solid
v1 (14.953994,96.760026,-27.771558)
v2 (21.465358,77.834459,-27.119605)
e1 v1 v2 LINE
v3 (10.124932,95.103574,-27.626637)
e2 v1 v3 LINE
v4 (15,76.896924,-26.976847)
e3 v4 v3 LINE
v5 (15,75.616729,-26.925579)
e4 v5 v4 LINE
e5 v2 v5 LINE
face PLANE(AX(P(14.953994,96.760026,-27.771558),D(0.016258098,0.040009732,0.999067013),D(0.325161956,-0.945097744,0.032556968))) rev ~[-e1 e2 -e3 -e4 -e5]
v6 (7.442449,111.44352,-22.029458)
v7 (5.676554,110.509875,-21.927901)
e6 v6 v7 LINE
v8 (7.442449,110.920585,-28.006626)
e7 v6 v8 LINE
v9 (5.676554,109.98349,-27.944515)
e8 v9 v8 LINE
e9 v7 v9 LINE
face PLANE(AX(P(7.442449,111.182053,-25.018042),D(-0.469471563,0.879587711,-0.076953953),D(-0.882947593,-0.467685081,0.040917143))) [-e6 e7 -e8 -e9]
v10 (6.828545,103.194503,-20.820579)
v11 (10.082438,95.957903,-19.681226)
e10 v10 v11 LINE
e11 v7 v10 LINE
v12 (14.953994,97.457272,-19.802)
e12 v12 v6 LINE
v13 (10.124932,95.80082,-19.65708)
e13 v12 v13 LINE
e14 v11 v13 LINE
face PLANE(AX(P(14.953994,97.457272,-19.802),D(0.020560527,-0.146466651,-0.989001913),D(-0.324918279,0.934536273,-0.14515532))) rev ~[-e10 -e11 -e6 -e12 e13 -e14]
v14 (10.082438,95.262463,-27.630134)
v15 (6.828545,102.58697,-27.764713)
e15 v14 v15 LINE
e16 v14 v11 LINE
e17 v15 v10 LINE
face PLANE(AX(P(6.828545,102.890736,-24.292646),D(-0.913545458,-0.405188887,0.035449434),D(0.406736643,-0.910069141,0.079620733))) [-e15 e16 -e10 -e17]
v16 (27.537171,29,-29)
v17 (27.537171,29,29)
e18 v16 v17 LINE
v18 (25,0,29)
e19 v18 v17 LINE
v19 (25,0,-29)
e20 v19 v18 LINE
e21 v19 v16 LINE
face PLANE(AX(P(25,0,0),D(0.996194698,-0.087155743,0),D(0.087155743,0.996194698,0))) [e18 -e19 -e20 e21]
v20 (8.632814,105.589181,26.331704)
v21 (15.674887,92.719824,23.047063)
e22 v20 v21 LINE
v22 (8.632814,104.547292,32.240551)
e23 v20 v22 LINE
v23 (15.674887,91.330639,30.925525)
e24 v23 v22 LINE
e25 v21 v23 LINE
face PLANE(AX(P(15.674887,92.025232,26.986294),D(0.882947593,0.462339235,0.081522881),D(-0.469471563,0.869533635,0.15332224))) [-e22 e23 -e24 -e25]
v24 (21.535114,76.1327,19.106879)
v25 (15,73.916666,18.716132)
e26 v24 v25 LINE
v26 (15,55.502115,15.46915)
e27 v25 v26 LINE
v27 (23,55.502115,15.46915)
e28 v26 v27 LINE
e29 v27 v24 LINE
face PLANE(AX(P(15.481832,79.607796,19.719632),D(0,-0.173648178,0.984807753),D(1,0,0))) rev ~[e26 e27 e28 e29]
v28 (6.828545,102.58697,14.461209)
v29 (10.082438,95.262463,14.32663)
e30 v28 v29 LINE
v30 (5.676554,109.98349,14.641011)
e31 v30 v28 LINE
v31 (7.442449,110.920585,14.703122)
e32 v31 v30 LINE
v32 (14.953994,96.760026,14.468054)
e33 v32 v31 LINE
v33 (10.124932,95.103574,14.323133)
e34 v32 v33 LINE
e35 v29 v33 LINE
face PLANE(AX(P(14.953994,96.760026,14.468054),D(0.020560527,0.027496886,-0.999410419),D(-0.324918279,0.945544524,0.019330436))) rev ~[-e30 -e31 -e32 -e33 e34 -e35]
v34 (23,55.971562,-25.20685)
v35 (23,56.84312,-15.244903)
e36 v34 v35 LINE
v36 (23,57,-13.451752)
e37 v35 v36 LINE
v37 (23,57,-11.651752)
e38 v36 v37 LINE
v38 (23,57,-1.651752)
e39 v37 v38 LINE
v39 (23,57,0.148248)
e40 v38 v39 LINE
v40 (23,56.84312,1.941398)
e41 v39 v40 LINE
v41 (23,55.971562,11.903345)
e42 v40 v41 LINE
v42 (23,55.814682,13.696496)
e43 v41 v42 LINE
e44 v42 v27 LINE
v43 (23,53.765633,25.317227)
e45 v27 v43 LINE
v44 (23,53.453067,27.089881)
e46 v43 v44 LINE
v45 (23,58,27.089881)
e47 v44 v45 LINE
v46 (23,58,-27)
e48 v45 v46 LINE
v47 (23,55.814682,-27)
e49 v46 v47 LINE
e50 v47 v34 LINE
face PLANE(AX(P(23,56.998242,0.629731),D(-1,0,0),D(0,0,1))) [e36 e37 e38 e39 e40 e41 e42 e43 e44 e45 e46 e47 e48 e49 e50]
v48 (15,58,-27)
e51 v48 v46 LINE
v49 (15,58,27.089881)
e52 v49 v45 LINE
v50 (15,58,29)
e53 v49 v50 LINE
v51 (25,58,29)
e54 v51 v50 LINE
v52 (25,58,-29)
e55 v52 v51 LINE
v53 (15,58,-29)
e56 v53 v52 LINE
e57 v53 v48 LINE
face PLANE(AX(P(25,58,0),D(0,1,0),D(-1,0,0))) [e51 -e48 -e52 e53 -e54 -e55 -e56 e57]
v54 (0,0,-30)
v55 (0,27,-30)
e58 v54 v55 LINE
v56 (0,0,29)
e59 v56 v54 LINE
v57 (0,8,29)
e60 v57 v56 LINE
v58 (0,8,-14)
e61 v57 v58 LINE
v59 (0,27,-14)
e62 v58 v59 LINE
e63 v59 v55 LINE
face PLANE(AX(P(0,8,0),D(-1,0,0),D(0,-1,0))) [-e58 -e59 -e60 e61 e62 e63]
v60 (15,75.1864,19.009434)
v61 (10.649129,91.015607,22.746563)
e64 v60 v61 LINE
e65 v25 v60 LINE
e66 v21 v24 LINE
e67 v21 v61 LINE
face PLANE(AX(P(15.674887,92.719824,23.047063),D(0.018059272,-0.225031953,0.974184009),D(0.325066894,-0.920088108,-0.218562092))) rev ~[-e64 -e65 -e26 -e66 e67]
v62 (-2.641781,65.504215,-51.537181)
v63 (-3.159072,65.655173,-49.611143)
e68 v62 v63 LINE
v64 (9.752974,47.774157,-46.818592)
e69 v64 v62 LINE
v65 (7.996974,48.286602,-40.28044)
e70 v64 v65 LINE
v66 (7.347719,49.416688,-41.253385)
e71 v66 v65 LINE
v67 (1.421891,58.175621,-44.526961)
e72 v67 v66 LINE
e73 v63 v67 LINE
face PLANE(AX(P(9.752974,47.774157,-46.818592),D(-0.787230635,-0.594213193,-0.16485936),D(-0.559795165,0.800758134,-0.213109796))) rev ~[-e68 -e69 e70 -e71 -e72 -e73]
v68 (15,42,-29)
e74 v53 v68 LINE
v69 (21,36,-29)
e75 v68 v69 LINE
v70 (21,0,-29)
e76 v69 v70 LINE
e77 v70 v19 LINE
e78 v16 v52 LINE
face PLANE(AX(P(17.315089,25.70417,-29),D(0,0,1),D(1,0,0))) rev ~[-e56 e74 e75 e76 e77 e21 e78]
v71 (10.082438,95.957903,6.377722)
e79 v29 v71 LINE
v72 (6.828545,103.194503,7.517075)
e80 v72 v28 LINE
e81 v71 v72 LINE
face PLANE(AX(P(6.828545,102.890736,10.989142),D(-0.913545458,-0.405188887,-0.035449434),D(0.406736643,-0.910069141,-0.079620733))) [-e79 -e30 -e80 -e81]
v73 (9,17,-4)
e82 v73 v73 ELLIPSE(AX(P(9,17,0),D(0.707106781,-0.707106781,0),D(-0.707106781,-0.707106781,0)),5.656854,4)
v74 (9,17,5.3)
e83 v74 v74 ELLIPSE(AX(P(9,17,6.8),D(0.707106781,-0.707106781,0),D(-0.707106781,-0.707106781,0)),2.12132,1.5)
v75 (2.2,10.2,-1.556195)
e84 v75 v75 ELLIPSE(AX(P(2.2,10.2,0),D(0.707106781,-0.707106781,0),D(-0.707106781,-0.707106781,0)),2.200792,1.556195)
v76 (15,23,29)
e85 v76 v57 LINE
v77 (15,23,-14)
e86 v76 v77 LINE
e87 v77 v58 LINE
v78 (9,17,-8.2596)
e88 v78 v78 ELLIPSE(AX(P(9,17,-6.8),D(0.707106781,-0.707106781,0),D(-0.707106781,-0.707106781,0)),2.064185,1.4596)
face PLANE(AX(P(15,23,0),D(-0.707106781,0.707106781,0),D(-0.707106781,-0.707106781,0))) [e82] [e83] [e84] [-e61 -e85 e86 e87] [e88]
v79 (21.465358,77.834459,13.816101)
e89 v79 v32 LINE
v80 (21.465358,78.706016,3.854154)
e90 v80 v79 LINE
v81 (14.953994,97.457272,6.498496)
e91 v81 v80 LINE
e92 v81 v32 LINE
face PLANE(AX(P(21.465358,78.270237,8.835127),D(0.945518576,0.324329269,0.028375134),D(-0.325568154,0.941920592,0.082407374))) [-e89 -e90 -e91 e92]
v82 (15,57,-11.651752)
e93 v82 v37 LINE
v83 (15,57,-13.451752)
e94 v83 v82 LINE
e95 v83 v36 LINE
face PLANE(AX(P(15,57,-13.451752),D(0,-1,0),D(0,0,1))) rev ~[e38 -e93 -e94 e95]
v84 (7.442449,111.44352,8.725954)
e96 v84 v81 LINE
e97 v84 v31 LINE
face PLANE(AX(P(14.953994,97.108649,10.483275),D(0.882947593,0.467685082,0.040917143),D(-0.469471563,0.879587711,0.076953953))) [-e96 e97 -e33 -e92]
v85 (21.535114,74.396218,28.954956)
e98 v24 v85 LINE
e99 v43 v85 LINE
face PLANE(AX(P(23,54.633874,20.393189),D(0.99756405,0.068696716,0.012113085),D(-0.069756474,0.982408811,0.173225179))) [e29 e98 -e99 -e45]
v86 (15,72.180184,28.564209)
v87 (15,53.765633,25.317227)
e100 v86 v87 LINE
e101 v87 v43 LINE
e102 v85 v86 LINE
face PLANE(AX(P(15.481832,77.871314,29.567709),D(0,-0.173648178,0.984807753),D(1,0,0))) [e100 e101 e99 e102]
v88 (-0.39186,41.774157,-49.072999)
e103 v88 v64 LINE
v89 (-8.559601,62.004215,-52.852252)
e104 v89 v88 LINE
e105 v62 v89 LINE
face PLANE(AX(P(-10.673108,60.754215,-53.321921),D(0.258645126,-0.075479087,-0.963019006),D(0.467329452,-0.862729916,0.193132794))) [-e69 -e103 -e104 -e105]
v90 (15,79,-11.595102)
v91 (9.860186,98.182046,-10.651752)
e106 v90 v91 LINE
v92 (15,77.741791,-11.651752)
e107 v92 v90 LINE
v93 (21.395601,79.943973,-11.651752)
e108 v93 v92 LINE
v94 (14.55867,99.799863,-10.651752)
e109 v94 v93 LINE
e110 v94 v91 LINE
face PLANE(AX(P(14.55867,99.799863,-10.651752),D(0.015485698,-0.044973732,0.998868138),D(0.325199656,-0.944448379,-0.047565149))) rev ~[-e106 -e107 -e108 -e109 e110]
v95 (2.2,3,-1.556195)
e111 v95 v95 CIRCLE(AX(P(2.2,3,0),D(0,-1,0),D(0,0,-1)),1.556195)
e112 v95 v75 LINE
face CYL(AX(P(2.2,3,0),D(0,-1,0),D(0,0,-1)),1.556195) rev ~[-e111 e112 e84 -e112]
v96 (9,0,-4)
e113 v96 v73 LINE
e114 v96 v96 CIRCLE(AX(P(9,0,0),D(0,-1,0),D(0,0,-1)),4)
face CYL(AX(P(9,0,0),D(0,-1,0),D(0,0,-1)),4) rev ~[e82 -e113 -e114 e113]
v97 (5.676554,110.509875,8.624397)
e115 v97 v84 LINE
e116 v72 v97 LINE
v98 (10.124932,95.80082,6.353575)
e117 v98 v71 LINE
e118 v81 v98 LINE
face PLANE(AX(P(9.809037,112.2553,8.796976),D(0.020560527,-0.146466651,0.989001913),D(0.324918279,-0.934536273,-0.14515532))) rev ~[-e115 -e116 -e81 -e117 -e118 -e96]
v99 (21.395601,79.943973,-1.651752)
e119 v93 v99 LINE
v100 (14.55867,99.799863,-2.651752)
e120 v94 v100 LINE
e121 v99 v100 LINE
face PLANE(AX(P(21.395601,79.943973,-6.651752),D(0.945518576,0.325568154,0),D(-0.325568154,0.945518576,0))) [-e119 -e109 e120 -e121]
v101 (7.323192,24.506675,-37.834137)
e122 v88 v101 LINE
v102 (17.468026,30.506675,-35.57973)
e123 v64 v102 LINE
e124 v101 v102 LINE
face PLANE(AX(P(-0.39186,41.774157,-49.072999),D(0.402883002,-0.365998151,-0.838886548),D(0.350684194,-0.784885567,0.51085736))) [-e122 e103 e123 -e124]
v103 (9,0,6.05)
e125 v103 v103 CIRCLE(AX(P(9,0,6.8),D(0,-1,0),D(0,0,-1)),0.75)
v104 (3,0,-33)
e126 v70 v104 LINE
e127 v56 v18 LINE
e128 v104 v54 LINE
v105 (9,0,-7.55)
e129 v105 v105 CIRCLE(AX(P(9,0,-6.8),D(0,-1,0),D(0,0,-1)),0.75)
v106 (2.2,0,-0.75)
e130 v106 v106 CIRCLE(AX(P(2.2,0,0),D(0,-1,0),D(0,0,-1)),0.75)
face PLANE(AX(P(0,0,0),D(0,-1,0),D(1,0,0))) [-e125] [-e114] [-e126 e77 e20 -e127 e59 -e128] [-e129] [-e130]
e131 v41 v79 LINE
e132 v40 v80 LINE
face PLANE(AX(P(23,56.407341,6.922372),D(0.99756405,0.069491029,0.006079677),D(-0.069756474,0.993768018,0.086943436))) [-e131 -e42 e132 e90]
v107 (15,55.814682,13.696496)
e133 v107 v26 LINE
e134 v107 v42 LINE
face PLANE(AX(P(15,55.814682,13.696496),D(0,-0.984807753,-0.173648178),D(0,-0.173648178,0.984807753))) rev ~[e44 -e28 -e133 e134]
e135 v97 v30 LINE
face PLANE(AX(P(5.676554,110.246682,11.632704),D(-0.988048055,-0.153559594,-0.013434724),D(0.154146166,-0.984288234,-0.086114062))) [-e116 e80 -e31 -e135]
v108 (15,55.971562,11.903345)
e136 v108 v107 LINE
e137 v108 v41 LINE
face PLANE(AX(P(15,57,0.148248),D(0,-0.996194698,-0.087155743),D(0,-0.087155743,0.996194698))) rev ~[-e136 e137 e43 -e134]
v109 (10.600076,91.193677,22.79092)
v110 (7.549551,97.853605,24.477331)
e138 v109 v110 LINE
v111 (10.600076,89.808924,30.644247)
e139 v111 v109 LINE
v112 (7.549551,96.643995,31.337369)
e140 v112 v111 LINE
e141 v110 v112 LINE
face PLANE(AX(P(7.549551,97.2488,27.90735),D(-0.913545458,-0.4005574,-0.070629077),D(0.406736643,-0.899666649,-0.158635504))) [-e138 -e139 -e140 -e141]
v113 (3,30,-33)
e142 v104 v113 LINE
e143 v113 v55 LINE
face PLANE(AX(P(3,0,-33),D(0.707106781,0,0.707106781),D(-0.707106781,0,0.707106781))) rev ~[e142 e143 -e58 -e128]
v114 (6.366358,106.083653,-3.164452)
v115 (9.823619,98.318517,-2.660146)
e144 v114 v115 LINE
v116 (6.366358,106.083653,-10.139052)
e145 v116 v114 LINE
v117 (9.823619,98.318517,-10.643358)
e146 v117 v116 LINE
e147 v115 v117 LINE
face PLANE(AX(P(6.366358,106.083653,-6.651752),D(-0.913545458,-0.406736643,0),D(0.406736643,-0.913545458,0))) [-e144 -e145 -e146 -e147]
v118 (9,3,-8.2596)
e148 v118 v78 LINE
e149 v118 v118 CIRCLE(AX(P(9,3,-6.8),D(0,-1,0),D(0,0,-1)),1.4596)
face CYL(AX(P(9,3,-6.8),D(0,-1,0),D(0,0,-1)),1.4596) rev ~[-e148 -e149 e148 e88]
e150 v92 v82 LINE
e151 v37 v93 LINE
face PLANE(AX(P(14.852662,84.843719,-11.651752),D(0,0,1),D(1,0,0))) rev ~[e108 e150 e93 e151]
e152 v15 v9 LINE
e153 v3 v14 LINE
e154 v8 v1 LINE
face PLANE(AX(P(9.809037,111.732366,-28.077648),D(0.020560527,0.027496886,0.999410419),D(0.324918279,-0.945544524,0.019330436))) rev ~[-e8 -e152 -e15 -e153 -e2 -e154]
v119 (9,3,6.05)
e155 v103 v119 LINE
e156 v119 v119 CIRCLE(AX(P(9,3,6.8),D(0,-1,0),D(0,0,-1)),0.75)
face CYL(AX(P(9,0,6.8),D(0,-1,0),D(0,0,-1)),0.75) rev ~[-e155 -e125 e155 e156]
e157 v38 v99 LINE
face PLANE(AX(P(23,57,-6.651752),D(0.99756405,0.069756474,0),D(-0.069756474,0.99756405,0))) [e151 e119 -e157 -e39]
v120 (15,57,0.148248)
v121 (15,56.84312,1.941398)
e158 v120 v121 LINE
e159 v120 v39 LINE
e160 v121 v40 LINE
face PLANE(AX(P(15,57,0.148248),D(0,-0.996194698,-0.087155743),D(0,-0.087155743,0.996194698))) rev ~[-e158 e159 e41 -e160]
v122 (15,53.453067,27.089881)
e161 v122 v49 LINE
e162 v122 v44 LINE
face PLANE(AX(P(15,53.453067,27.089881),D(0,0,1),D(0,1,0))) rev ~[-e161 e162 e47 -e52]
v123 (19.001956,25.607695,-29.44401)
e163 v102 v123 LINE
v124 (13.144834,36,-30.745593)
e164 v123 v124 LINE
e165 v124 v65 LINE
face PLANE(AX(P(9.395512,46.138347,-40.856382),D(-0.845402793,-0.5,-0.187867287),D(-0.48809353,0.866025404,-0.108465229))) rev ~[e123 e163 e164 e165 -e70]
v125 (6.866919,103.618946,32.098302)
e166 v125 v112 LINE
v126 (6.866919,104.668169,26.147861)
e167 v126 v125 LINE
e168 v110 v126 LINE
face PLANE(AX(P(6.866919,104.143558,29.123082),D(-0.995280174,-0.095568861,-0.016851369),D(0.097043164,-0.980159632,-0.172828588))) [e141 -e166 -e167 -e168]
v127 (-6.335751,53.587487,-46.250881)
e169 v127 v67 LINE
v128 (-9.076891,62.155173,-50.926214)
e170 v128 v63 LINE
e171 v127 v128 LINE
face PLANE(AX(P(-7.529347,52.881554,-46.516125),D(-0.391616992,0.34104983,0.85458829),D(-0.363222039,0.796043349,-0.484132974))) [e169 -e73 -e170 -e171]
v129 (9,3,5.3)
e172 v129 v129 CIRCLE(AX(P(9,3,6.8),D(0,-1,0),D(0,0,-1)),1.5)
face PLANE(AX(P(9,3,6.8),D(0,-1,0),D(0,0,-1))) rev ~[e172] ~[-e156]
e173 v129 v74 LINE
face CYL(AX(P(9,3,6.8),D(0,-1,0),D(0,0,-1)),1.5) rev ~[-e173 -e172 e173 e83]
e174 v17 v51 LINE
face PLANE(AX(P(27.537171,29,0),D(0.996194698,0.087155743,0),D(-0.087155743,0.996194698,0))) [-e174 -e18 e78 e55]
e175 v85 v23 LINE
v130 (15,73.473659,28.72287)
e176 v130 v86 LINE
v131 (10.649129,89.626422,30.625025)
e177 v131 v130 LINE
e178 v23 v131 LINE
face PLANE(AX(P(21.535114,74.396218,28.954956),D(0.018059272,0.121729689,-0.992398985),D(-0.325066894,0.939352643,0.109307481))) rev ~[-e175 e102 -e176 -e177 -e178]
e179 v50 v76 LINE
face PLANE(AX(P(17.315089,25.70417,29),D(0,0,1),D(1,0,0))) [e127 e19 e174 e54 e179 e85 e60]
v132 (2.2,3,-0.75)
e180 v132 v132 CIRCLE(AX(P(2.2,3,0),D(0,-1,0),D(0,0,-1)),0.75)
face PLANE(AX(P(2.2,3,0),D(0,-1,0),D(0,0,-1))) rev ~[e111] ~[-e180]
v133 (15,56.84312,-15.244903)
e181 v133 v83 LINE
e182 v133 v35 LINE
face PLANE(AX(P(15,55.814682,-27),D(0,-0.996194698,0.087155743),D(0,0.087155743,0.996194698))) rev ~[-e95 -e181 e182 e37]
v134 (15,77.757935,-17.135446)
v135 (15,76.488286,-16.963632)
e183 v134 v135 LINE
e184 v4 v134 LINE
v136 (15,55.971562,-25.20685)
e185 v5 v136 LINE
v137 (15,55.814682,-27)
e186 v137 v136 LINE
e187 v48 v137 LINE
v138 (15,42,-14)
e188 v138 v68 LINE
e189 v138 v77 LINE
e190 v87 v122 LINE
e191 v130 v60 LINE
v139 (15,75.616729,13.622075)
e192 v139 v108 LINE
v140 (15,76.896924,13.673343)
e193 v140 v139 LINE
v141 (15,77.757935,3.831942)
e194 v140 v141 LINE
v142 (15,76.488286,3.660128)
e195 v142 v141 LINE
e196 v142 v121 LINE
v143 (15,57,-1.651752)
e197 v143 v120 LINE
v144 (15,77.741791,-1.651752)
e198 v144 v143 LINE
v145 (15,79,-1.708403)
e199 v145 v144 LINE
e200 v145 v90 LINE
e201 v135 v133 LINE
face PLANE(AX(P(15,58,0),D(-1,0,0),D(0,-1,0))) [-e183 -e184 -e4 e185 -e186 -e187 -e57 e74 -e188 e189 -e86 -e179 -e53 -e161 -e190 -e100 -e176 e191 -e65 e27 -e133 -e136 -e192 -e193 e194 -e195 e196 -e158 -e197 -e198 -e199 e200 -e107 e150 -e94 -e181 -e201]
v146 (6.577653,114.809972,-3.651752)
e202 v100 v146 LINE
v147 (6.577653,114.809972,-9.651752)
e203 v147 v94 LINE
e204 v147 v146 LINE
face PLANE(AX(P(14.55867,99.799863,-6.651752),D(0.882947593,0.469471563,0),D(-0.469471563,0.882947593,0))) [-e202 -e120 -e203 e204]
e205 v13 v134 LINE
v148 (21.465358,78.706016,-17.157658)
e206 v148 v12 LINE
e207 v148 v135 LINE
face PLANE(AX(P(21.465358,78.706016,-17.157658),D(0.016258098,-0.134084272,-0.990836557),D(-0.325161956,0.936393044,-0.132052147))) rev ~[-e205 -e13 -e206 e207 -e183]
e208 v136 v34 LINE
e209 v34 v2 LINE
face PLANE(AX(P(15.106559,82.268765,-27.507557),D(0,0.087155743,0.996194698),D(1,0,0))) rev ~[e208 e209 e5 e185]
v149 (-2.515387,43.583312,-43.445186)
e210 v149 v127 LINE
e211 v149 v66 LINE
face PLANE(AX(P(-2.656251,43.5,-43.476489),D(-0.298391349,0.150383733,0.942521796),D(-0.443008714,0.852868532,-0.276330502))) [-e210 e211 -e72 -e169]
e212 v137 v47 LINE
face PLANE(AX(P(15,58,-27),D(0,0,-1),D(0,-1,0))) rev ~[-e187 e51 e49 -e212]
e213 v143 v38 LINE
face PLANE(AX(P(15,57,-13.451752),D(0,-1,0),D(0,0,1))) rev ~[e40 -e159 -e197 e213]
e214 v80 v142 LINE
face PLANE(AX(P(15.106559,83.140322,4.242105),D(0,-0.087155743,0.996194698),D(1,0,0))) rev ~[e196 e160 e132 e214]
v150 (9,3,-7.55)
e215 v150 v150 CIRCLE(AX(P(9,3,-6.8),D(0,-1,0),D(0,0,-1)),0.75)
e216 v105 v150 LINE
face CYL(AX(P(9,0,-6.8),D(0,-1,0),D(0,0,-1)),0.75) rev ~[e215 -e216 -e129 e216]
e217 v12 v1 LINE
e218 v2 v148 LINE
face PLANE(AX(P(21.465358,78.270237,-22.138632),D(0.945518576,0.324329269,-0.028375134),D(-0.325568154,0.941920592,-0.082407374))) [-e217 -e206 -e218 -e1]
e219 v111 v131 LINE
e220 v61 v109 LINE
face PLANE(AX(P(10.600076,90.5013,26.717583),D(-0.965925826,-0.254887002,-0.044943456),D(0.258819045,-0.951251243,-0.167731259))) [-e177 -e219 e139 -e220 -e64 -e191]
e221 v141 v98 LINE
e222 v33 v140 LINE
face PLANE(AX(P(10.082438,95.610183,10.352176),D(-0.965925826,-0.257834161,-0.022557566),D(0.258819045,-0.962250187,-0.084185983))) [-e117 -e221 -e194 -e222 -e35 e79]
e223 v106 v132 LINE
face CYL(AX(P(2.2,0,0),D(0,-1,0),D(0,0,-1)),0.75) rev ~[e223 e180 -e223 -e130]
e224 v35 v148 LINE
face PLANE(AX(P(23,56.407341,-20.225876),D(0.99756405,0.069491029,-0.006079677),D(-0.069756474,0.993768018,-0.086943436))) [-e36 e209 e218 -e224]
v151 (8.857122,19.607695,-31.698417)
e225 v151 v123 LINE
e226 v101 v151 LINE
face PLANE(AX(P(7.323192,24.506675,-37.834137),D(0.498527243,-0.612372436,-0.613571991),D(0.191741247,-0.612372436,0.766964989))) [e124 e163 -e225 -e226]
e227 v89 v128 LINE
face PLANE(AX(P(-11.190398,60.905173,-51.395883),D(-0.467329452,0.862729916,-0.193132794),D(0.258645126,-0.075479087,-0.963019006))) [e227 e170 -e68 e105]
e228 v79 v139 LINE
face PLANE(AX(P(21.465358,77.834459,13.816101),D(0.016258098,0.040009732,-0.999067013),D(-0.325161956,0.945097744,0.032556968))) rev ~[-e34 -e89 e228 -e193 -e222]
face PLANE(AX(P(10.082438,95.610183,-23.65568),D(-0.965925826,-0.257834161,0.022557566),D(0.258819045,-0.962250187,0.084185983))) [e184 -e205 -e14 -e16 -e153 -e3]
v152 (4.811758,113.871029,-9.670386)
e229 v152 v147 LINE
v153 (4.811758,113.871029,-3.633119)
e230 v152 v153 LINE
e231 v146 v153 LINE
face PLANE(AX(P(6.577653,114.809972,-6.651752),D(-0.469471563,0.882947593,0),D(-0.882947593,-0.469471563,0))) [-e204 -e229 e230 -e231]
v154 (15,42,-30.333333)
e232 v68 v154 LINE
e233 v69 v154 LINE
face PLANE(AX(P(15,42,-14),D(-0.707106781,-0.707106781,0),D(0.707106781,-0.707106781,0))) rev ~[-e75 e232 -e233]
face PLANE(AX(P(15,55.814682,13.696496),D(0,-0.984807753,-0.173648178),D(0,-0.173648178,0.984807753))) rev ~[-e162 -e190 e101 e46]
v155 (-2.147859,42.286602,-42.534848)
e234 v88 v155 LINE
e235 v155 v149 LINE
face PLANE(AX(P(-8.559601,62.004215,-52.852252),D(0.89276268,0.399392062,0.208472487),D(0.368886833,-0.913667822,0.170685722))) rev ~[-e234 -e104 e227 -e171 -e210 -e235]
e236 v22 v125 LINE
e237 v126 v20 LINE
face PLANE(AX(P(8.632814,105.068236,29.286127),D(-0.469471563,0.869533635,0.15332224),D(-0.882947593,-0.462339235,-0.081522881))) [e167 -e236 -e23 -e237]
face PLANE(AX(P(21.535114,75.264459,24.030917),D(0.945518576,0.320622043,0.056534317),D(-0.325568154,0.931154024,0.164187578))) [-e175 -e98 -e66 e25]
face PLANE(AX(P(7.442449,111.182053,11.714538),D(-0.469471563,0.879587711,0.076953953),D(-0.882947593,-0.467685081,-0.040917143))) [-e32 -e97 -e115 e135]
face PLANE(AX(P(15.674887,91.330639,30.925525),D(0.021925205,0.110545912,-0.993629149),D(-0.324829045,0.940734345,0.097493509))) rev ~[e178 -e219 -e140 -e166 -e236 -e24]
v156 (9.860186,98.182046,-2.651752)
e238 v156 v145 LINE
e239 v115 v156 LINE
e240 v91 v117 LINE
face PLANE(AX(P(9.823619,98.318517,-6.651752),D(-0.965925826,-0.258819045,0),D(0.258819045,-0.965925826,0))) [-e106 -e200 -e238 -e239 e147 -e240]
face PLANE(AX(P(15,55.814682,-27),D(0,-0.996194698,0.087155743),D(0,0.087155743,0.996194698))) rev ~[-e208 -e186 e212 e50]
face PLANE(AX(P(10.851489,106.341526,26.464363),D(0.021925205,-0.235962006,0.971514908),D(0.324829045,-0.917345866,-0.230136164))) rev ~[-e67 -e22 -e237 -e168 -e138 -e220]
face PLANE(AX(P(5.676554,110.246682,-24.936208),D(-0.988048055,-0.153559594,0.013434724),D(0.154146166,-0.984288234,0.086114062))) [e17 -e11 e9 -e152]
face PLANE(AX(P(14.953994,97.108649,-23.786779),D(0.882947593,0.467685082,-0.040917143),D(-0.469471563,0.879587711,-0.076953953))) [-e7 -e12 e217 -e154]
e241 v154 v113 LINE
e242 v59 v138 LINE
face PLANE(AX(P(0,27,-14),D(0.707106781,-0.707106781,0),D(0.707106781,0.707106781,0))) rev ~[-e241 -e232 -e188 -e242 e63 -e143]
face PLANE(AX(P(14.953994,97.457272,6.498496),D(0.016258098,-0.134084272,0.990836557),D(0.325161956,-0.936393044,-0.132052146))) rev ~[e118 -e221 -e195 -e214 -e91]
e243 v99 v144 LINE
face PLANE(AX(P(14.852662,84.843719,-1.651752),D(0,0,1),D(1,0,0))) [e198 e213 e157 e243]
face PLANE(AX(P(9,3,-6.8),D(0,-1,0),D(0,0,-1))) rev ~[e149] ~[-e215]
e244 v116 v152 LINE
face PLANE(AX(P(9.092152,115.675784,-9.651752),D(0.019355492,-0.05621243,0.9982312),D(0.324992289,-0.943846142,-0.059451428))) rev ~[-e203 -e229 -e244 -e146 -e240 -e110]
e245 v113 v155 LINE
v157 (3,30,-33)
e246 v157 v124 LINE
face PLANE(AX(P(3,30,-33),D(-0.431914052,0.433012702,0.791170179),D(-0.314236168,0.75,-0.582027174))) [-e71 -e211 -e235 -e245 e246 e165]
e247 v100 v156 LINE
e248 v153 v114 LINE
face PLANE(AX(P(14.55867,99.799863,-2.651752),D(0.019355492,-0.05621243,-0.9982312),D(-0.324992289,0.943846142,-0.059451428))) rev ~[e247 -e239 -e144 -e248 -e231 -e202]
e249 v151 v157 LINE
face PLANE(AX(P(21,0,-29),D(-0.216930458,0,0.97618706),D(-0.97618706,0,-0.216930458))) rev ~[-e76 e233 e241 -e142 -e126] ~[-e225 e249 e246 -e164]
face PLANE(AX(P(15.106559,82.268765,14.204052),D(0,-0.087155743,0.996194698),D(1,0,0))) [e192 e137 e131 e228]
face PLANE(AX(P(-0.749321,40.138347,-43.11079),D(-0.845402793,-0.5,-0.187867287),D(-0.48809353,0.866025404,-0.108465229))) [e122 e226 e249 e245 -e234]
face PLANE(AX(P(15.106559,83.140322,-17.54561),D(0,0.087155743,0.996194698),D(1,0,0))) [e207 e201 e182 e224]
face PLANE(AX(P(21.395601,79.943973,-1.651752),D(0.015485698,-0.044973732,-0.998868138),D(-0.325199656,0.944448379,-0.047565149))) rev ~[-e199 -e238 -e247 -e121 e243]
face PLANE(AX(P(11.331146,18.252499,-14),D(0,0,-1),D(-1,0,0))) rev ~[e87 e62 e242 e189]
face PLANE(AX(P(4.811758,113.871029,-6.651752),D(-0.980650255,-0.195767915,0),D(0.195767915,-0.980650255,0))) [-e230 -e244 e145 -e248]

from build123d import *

# Parameters (mm, degrees)
EXTRUDE_1_DEPTH      = 29
CUT_EXTRUDE_1_DEPTH  = 8
EXTRUDE_3_DEPTH      = 5
EXTRUDE_4_DEPTH      = 5
EXTRUDE_7_DEPTH      = 5
EXTRUDE_8_DEPTH      = 5
CUT_EXTRUDE_2_DEPTH  = 8
CUT_EXTRUDE_3_DEPTH  = 8
CUT_EXTRUDE_4_DEPTH  = 8
CUT_EXTRUDE_5_DEPTH  = 8
EXTRUDE_9_DEPTH      = 4
EXTRUDE_9_DEPTH_BACK = 15
CUT_EXTRUDE_6_DEPTH  = 123.591294734
EXTRUDE_10_DEPTH     = 12
CUT_EXTRUDE_7_DEPTH  = 10
CUT_EXTRUDE_8_REACH  = 131.356
SKETCH_19_R          = 4
SKETCH_19_R_2        = 0.75
CUT_EXTRUDE_9_REACH  = 128.701
SKETCH_20_R          = 1.459599559
SKETCH_20_R_2        = 1.556195018
SKETCH_20_R_3        = 1.5


with BuildPart() as part:
    # 草图1 → 凸台-拉伸1 (new, symmetric)
    with BuildSketch(Plane.XY):
        Polygon((0, 0), (25, 0), (27.537171242, 29), (25, 58), (15, 58), (15, 23), (0, 8), align=None)
    extrude(amount=EXTRUDE_1_DEPTH, both=True)

    # 草图2 → 切除-拉伸1 (cut)
    with BuildSketch(Plane.ZY.offset(-15)):
        Polygon((-27, 58), (-27, 55.814681899), (-13.451752106, 57), (0.148247894, 57), (13.696495788, 55.814681899), (27.089881229, 53.453066682), (27.089881229, 58), align=None)
    extrude(amount=-CUT_EXTRUDE_1_DEPTH, mode=Mode.SUBTRACT)

    # 草图3 → 凸台-拉伸3 (add, symmetric)
    with BuildSketch(Plane(origin=(15, 56.407340949, -20.225876053), x_dir=(1, 0, 0), z_dir=(0, 0.08715574274765847, 0.9961946980917457))):
        Polygon((-9.323445702, 54.044998978), (-8.171455002, 46.660954361), (-4.917561857, 39.352590699), (0, 21), (0, 0), (8, 0), (6.465357578, 21.946409106), (-0.046005512, 40.856780618), (-7.557550516, 54.983942103), align=None)
    extrude(amount=EXTRUDE_3_DEPTH, both=True)

    # 草图4 → 凸台-拉伸4 (add, symmetric)
    with BuildSketch(Plane(origin=(15, 57, -6.651752106), x_dir=(1, 0, 0), z_dir=(0, 0, 1))):
        Polygon((0, 0), (8, 0), (6.395601104, 22.943973156), (-0.44133014, 42.799863244), (-8.422346707, 57.809972322), (-10.188241893, 56.871029197), (-8.633642368, 49.083652916), (-5.176380902, 41.318516526), (0, 22), align=None)
    extrude(amount=EXTRUDE_4_DEPTH, both=True)

    # 草图5 → 凸台-拉伸7 (add, symmetric)
    with BuildSketch(Plane(origin=(15, 56.407340949, 6.922371841), x_dir=(1, 0, 0), z_dir=(0, -0.08715574274765847, 0.9961946980917457))):
        Polygon((0, 0), (8, 0), (6.465357578, 21.946409106), (-0.046005512, 40.856780618), (-7.557550516, 54.983942103), (-9.323445702, 54.044998978), (-8.171455002, 46.660954361), (-4.917561857, 39.352590699), (0, 21), align=None)
    extrude(amount=EXTRUDE_7_DEPTH, both=True)

    # 草图6 → 凸台-拉伸8 (add, symmetric)
    with BuildSketch(Plane(origin=(15, 54.63387429, 20.393188509), x_dir=(1, 0, 0), z_dir=(0, -0.17364817766693064, 0.9848077530122081))):
        Polygon((0, 0), (8, 0), (6.535114051, 20.948845055), (0.674887271, 37.968179416), (-6.367186171, 51.212393309), (-8.133081356, 50.273450184), (-7.45044859, 43.272329979), (-4.399923767, 36.420739047), (0, 20), align=None)
    extrude(amount=EXTRUDE_8_DEPTH, both=True)

    # 草图9 → 切除-拉伸2 (cut)
    with BuildSketch(Plane(origin=(43.786407244, 15.019497062, -1.314035725), x_dir=(-0.027653196730496193, -0.006835672416694662, -0.9995942048117308), z_dir=(0.945518575599319, 0.32432926933772815, -0.028375134316697356))):
        Polygon((16.019101355, 67.443389025), (18.714253027, 87.286175055), (21.05291991, 102.947141542), (27.031237201, 102.437511905), (26.685342748, 86.606668873), (25.982963507, 66.594006296), (29.629783933, 109.373797793), (19.665921781, 110.223180522), align=None)
    extrude(amount=-CUT_EXTRUDE_2_DEPTH, mode=Mode.SUBTRACT)

    # 草图10 → 切除-拉伸3 (cut)
    with BuildSketch(Plane(origin=(43.736994655, 15.059854982, 0), x_dir=(0, 0, -1), z_dir=(0.9455185755993187, 0.32556815445715115, 0))):
        Polygon((1.651752106, 68.622785261), (2.651752106, 89.622785261), (3.651752106, 106.413487051), (9.651752106, 106.413487051), (10.651752106, 89.622785261), (11.651752106, 68.622785261), (11.651752106, 115.571899367), (1.651752106, 115.571899367), align=None)
    extrude(amount=-CUT_EXTRUDE_3_DEPTH, mode=Mode.SUBTRACT)

    # 草图11 → 切除-拉伸4 (cut)
    with BuildSketch(Plane(origin=(43.429484648, 14.897066422, 1.303324432), x_dir=(0.02765319673049623, 0.006835672416694678, -0.9995942048117308), z_dir=(0.9455185755993187, 0.32432926933772854, 0.028375134316697394))):
        Polygon((-12.684857793, 66.627338038), (-13.387237034, 86.640000614), (-13.733131487, 102.470843646), (-7.754814196, 102.980473283), (-5.416147313, 87.319506797), (-2.720995641, 67.476720766), (-6.546649191, 112.354351713), (-16.478235605, 111.126351676), align=None)
    extrude(amount=-CUT_EXTRUDE_4_DEPTH, mode=Mode.SUBTRACT)

    # 草图12 → 切除-拉伸5 (cut)
    with BuildSketch(Plane(origin=(43.353791536, 14.701119108, 2.592203945), x_dir=(0.05512742044977168, 0.013471340172277213, -0.9983884467022428), z_dir=(0.9455185755993187, 0.32062204264327854, 0.0565343167278701))):
        Polygon((-26.718901534, 63.408631661), (-28.781224347, 81.318037698), (-30.304296285, 96.088755689), (-24.390936546, 97.104716612), (-20.896744695, 82.672652262), (-16.863301969, 65.101899866), (-23.990371814, 106.58472359), (-33.845971379, 104.891455385), align=None)
    extrude(amount=-CUT_EXTRUDE_5_DEPTH, mode=Mode.SUBTRACT)

    # 草图13 → 凸台-拉伸9 (add, two sides: drawn at the far end of the back side and taken through both)
    with BuildSketch(Plane(origin=(0, 0, -29), x_dir=(-1, 0, 0), z_dir=(0, 0, -1)).offset(-EXTRUDE_9_DEPTH_BACK)):
        Polygon((-15, 42), (-21, 36), (-21, 0), (0, 0), (0, 27), align=None)
    extrude(amount=EXTRUDE_9_DEPTH + EXTRUDE_9_DEPTH_BACK)

    # 草图14 → 切除-拉伸6 (cut, through all)
    with BuildSketch(Plane.XZ):
        Polygon((21, -29), (3, -33), (0, -30), (0, -35.356420502), (21, -35.356420502), (21, -33), align=None)
    extrude(amount=-CUT_EXTRUDE_6_DEPTH, mode=Mode.SUBTRACT)

    # 草图17 → 凸台-拉伸10 (add)
    with BuildSketch(Plane(origin=(9.583983071, 5.668293949, 2.129774016), x_dir=(-0.4880935300919712, 0.8660254037844418, -0.10846522890932642), z_dir=(-0.845402792964955, -0.4999999999999946, -0.18786728732554522))):
        Polygon((28.095834077, 32.86496436), (43.684291345, 41.86496436), (54.517176629, 43.775094314), (63.782054485, 47.744457312), (63.607743, 49.736846708), (41.691459642, 47.819420367), (21.752688327, 38.521818609), (16.095834077, 32.86496436), align=None)
    extrude(amount=-EXTRUDE_10_DEPTH)

    # 草图18 → 切除-拉伸7 (cut)
    with BuildSketch(Plane(origin=(11.38136915, -3.321366881, -42.376498538), x_dir=(-0.9659724085627504, -0.020280380390013637, -0.25784881629884493), z_dir=(0.2586451260790556, -0.07547908730517995, -0.9630190061131331))):
        Polygon((1.682136929, 51.286517247), (14.512238635, 69.331973467), (20.638759875, 65.945863974), (12.184744769, 45.481758116), (26.51939396, 71.417580015), (15.357154401, 76.028860982), align=None)
    extrude(amount=-CUT_EXTRUDE_7_DEPTH, mode=Mode.SUBTRACT)

    # 切除-拉伸8: up to this plane
    cut_extrude_8_end = Plane(origin=(15, 23, 29), z_dir=(0.7071067811865438, -0.7071067811865512, 0))
    # 草图19 → 切除-拉伸8 (cut, up to the surface)
    with BuildSketch(Plane.XZ, mode=Mode.PRIVATE) as cut_extrude_8_sk1:
        with Locations(Location((9, 0, 0), (0, 0, 270))):
            Circle(SKETCH_19_R)
    cut_extrude_8_tool1 = split(extrude(cut_extrude_8_sk1.sketch, amount=-CUT_EXTRUDE_8_REACH, mode=Mode.PRIVATE), bisect_by=cut_extrude_8_end, keep=Keep.BOTH, mode=Mode.PRIVATE)
    add(cut_extrude_8_tool1.solids().sort_by_distance((9, 0, 0))[0], mode=Mode.SUBTRACT)
    # 草图19 → 切除-拉伸8 (cut, up to the surface)
    with BuildSketch(Plane.XZ, mode=Mode.PRIVATE) as cut_extrude_8_sk2:
        with Locations(Location((2.2, 0, 0), (0, 0, 270))):
            Circle(SKETCH_19_R_2)
    cut_extrude_8_tool2 = split(extrude(cut_extrude_8_sk2.sketch, amount=-CUT_EXTRUDE_8_REACH, mode=Mode.PRIVATE), bisect_by=cut_extrude_8_end, keep=Keep.BOTH, mode=Mode.PRIVATE)
    add(cut_extrude_8_tool2.solids().sort_by_distance((2.2, 0, 0))[0], mode=Mode.SUBTRACT)
    # 草图19 → 切除-拉伸8 (cut, up to the surface)
    with BuildSketch(Plane.XZ, mode=Mode.PRIVATE) as cut_extrude_8_sk3:
        with Locations(Location((9, 6.8, 0), (0, 0, 270))):
            Circle(SKETCH_19_R_2)
    cut_extrude_8_tool3 = split(extrude(cut_extrude_8_sk3.sketch, amount=-CUT_EXTRUDE_8_REACH, mode=Mode.PRIVATE), bisect_by=cut_extrude_8_end, keep=Keep.BOTH, mode=Mode.PRIVATE)
    add(cut_extrude_8_tool3.solids().sort_by_distance((9, 0, 6.8))[0], mode=Mode.SUBTRACT)
    # 草图19 → 切除-拉伸8 (cut, up to the surface)
    with BuildSketch(Plane.XZ, mode=Mode.PRIVATE) as cut_extrude_8_sk4:
        with Locations(Location((9, -6.8, 0), (0, 0, 270))):
            Circle(SKETCH_19_R_2)
    cut_extrude_8_tool4 = split(extrude(cut_extrude_8_sk4.sketch, amount=-CUT_EXTRUDE_8_REACH, mode=Mode.PRIVATE), bisect_by=cut_extrude_8_end, keep=Keep.BOTH, mode=Mode.PRIVATE)
    add(cut_extrude_8_tool4.solids().sort_by_distance((9, 0, -6.8))[0], mode=Mode.SUBTRACT)

    # 切除-拉伸9: up to this plane
    cut_extrude_9_end = Plane(origin=(15, 23, 29), z_dir=(0.7071067811865438, -0.7071067811865512, 0))
    # 草图20 → 切除-拉伸9 (cut, up to the surface)
    with BuildSketch(Plane(origin=(0, 3, 0), x_dir=(-1, 0, 0), z_dir=(0, -1, 0)), mode=Mode.PRIVATE) as cut_extrude_9_sk1:
        with Locations(Location((-9, 6.8, 0), (0, 0, 90))):
            Circle(SKETCH_20_R)
    cut_extrude_9_tool1 = split(extrude(cut_extrude_9_sk1.sketch, amount=-CUT_EXTRUDE_9_REACH, mode=Mode.PRIVATE), bisect_by=cut_extrude_9_end, keep=Keep.BOTH, mode=Mode.PRIVATE)
    add(cut_extrude_9_tool1.solids().sort_by_distance((9, 3, -6.8))[0], mode=Mode.SUBTRACT)
    # 草图20 → 切除-拉伸9 (cut, up to the surface)
    with BuildSketch(Plane(origin=(0, 3, 0), x_dir=(-1, 0, 0), z_dir=(0, -1, 0)), mode=Mode.PRIVATE) as cut_extrude_9_sk2:
        with Locations(Location((-2.2, 0, 0), (0, 0, 90))):
            Circle(SKETCH_20_R_2)
    cut_extrude_9_tool2 = split(extrude(cut_extrude_9_sk2.sketch, amount=-CUT_EXTRUDE_9_REACH, mode=Mode.PRIVATE), bisect_by=cut_extrude_9_end, keep=Keep.BOTH, mode=Mode.PRIVATE)
    add(cut_extrude_9_tool2.solids().sort_by_distance((2.2, 3, 0))[0], mode=Mode.SUBTRACT)
    # 草图20 → 切除-拉伸9 (cut, up to the surface)
    with BuildSketch(Plane(origin=(0, 3, 0), x_dir=(-1, 0, 0), z_dir=(0, -1, 0)), mode=Mode.PRIVATE) as cut_extrude_9_sk3:
        with Locations(Location((-9, -6.8, 0), (0, 0, 90))):
            Circle(SKETCH_20_R_3)
    cut_extrude_9_tool3 = split(extrude(cut_extrude_9_sk3.sketch, amount=-CUT_EXTRUDE_9_REACH, mode=Mode.PRIVATE), bisect_by=cut_extrude_9_end, keep=Keep.BOTH, mode=Mode.PRIVATE)
    add(cut_extrude_9_tool3.solids().sort_by_distance((9, 3, 6.8))[0], mode=Mode.SUBTRACT)


solid = part.part
